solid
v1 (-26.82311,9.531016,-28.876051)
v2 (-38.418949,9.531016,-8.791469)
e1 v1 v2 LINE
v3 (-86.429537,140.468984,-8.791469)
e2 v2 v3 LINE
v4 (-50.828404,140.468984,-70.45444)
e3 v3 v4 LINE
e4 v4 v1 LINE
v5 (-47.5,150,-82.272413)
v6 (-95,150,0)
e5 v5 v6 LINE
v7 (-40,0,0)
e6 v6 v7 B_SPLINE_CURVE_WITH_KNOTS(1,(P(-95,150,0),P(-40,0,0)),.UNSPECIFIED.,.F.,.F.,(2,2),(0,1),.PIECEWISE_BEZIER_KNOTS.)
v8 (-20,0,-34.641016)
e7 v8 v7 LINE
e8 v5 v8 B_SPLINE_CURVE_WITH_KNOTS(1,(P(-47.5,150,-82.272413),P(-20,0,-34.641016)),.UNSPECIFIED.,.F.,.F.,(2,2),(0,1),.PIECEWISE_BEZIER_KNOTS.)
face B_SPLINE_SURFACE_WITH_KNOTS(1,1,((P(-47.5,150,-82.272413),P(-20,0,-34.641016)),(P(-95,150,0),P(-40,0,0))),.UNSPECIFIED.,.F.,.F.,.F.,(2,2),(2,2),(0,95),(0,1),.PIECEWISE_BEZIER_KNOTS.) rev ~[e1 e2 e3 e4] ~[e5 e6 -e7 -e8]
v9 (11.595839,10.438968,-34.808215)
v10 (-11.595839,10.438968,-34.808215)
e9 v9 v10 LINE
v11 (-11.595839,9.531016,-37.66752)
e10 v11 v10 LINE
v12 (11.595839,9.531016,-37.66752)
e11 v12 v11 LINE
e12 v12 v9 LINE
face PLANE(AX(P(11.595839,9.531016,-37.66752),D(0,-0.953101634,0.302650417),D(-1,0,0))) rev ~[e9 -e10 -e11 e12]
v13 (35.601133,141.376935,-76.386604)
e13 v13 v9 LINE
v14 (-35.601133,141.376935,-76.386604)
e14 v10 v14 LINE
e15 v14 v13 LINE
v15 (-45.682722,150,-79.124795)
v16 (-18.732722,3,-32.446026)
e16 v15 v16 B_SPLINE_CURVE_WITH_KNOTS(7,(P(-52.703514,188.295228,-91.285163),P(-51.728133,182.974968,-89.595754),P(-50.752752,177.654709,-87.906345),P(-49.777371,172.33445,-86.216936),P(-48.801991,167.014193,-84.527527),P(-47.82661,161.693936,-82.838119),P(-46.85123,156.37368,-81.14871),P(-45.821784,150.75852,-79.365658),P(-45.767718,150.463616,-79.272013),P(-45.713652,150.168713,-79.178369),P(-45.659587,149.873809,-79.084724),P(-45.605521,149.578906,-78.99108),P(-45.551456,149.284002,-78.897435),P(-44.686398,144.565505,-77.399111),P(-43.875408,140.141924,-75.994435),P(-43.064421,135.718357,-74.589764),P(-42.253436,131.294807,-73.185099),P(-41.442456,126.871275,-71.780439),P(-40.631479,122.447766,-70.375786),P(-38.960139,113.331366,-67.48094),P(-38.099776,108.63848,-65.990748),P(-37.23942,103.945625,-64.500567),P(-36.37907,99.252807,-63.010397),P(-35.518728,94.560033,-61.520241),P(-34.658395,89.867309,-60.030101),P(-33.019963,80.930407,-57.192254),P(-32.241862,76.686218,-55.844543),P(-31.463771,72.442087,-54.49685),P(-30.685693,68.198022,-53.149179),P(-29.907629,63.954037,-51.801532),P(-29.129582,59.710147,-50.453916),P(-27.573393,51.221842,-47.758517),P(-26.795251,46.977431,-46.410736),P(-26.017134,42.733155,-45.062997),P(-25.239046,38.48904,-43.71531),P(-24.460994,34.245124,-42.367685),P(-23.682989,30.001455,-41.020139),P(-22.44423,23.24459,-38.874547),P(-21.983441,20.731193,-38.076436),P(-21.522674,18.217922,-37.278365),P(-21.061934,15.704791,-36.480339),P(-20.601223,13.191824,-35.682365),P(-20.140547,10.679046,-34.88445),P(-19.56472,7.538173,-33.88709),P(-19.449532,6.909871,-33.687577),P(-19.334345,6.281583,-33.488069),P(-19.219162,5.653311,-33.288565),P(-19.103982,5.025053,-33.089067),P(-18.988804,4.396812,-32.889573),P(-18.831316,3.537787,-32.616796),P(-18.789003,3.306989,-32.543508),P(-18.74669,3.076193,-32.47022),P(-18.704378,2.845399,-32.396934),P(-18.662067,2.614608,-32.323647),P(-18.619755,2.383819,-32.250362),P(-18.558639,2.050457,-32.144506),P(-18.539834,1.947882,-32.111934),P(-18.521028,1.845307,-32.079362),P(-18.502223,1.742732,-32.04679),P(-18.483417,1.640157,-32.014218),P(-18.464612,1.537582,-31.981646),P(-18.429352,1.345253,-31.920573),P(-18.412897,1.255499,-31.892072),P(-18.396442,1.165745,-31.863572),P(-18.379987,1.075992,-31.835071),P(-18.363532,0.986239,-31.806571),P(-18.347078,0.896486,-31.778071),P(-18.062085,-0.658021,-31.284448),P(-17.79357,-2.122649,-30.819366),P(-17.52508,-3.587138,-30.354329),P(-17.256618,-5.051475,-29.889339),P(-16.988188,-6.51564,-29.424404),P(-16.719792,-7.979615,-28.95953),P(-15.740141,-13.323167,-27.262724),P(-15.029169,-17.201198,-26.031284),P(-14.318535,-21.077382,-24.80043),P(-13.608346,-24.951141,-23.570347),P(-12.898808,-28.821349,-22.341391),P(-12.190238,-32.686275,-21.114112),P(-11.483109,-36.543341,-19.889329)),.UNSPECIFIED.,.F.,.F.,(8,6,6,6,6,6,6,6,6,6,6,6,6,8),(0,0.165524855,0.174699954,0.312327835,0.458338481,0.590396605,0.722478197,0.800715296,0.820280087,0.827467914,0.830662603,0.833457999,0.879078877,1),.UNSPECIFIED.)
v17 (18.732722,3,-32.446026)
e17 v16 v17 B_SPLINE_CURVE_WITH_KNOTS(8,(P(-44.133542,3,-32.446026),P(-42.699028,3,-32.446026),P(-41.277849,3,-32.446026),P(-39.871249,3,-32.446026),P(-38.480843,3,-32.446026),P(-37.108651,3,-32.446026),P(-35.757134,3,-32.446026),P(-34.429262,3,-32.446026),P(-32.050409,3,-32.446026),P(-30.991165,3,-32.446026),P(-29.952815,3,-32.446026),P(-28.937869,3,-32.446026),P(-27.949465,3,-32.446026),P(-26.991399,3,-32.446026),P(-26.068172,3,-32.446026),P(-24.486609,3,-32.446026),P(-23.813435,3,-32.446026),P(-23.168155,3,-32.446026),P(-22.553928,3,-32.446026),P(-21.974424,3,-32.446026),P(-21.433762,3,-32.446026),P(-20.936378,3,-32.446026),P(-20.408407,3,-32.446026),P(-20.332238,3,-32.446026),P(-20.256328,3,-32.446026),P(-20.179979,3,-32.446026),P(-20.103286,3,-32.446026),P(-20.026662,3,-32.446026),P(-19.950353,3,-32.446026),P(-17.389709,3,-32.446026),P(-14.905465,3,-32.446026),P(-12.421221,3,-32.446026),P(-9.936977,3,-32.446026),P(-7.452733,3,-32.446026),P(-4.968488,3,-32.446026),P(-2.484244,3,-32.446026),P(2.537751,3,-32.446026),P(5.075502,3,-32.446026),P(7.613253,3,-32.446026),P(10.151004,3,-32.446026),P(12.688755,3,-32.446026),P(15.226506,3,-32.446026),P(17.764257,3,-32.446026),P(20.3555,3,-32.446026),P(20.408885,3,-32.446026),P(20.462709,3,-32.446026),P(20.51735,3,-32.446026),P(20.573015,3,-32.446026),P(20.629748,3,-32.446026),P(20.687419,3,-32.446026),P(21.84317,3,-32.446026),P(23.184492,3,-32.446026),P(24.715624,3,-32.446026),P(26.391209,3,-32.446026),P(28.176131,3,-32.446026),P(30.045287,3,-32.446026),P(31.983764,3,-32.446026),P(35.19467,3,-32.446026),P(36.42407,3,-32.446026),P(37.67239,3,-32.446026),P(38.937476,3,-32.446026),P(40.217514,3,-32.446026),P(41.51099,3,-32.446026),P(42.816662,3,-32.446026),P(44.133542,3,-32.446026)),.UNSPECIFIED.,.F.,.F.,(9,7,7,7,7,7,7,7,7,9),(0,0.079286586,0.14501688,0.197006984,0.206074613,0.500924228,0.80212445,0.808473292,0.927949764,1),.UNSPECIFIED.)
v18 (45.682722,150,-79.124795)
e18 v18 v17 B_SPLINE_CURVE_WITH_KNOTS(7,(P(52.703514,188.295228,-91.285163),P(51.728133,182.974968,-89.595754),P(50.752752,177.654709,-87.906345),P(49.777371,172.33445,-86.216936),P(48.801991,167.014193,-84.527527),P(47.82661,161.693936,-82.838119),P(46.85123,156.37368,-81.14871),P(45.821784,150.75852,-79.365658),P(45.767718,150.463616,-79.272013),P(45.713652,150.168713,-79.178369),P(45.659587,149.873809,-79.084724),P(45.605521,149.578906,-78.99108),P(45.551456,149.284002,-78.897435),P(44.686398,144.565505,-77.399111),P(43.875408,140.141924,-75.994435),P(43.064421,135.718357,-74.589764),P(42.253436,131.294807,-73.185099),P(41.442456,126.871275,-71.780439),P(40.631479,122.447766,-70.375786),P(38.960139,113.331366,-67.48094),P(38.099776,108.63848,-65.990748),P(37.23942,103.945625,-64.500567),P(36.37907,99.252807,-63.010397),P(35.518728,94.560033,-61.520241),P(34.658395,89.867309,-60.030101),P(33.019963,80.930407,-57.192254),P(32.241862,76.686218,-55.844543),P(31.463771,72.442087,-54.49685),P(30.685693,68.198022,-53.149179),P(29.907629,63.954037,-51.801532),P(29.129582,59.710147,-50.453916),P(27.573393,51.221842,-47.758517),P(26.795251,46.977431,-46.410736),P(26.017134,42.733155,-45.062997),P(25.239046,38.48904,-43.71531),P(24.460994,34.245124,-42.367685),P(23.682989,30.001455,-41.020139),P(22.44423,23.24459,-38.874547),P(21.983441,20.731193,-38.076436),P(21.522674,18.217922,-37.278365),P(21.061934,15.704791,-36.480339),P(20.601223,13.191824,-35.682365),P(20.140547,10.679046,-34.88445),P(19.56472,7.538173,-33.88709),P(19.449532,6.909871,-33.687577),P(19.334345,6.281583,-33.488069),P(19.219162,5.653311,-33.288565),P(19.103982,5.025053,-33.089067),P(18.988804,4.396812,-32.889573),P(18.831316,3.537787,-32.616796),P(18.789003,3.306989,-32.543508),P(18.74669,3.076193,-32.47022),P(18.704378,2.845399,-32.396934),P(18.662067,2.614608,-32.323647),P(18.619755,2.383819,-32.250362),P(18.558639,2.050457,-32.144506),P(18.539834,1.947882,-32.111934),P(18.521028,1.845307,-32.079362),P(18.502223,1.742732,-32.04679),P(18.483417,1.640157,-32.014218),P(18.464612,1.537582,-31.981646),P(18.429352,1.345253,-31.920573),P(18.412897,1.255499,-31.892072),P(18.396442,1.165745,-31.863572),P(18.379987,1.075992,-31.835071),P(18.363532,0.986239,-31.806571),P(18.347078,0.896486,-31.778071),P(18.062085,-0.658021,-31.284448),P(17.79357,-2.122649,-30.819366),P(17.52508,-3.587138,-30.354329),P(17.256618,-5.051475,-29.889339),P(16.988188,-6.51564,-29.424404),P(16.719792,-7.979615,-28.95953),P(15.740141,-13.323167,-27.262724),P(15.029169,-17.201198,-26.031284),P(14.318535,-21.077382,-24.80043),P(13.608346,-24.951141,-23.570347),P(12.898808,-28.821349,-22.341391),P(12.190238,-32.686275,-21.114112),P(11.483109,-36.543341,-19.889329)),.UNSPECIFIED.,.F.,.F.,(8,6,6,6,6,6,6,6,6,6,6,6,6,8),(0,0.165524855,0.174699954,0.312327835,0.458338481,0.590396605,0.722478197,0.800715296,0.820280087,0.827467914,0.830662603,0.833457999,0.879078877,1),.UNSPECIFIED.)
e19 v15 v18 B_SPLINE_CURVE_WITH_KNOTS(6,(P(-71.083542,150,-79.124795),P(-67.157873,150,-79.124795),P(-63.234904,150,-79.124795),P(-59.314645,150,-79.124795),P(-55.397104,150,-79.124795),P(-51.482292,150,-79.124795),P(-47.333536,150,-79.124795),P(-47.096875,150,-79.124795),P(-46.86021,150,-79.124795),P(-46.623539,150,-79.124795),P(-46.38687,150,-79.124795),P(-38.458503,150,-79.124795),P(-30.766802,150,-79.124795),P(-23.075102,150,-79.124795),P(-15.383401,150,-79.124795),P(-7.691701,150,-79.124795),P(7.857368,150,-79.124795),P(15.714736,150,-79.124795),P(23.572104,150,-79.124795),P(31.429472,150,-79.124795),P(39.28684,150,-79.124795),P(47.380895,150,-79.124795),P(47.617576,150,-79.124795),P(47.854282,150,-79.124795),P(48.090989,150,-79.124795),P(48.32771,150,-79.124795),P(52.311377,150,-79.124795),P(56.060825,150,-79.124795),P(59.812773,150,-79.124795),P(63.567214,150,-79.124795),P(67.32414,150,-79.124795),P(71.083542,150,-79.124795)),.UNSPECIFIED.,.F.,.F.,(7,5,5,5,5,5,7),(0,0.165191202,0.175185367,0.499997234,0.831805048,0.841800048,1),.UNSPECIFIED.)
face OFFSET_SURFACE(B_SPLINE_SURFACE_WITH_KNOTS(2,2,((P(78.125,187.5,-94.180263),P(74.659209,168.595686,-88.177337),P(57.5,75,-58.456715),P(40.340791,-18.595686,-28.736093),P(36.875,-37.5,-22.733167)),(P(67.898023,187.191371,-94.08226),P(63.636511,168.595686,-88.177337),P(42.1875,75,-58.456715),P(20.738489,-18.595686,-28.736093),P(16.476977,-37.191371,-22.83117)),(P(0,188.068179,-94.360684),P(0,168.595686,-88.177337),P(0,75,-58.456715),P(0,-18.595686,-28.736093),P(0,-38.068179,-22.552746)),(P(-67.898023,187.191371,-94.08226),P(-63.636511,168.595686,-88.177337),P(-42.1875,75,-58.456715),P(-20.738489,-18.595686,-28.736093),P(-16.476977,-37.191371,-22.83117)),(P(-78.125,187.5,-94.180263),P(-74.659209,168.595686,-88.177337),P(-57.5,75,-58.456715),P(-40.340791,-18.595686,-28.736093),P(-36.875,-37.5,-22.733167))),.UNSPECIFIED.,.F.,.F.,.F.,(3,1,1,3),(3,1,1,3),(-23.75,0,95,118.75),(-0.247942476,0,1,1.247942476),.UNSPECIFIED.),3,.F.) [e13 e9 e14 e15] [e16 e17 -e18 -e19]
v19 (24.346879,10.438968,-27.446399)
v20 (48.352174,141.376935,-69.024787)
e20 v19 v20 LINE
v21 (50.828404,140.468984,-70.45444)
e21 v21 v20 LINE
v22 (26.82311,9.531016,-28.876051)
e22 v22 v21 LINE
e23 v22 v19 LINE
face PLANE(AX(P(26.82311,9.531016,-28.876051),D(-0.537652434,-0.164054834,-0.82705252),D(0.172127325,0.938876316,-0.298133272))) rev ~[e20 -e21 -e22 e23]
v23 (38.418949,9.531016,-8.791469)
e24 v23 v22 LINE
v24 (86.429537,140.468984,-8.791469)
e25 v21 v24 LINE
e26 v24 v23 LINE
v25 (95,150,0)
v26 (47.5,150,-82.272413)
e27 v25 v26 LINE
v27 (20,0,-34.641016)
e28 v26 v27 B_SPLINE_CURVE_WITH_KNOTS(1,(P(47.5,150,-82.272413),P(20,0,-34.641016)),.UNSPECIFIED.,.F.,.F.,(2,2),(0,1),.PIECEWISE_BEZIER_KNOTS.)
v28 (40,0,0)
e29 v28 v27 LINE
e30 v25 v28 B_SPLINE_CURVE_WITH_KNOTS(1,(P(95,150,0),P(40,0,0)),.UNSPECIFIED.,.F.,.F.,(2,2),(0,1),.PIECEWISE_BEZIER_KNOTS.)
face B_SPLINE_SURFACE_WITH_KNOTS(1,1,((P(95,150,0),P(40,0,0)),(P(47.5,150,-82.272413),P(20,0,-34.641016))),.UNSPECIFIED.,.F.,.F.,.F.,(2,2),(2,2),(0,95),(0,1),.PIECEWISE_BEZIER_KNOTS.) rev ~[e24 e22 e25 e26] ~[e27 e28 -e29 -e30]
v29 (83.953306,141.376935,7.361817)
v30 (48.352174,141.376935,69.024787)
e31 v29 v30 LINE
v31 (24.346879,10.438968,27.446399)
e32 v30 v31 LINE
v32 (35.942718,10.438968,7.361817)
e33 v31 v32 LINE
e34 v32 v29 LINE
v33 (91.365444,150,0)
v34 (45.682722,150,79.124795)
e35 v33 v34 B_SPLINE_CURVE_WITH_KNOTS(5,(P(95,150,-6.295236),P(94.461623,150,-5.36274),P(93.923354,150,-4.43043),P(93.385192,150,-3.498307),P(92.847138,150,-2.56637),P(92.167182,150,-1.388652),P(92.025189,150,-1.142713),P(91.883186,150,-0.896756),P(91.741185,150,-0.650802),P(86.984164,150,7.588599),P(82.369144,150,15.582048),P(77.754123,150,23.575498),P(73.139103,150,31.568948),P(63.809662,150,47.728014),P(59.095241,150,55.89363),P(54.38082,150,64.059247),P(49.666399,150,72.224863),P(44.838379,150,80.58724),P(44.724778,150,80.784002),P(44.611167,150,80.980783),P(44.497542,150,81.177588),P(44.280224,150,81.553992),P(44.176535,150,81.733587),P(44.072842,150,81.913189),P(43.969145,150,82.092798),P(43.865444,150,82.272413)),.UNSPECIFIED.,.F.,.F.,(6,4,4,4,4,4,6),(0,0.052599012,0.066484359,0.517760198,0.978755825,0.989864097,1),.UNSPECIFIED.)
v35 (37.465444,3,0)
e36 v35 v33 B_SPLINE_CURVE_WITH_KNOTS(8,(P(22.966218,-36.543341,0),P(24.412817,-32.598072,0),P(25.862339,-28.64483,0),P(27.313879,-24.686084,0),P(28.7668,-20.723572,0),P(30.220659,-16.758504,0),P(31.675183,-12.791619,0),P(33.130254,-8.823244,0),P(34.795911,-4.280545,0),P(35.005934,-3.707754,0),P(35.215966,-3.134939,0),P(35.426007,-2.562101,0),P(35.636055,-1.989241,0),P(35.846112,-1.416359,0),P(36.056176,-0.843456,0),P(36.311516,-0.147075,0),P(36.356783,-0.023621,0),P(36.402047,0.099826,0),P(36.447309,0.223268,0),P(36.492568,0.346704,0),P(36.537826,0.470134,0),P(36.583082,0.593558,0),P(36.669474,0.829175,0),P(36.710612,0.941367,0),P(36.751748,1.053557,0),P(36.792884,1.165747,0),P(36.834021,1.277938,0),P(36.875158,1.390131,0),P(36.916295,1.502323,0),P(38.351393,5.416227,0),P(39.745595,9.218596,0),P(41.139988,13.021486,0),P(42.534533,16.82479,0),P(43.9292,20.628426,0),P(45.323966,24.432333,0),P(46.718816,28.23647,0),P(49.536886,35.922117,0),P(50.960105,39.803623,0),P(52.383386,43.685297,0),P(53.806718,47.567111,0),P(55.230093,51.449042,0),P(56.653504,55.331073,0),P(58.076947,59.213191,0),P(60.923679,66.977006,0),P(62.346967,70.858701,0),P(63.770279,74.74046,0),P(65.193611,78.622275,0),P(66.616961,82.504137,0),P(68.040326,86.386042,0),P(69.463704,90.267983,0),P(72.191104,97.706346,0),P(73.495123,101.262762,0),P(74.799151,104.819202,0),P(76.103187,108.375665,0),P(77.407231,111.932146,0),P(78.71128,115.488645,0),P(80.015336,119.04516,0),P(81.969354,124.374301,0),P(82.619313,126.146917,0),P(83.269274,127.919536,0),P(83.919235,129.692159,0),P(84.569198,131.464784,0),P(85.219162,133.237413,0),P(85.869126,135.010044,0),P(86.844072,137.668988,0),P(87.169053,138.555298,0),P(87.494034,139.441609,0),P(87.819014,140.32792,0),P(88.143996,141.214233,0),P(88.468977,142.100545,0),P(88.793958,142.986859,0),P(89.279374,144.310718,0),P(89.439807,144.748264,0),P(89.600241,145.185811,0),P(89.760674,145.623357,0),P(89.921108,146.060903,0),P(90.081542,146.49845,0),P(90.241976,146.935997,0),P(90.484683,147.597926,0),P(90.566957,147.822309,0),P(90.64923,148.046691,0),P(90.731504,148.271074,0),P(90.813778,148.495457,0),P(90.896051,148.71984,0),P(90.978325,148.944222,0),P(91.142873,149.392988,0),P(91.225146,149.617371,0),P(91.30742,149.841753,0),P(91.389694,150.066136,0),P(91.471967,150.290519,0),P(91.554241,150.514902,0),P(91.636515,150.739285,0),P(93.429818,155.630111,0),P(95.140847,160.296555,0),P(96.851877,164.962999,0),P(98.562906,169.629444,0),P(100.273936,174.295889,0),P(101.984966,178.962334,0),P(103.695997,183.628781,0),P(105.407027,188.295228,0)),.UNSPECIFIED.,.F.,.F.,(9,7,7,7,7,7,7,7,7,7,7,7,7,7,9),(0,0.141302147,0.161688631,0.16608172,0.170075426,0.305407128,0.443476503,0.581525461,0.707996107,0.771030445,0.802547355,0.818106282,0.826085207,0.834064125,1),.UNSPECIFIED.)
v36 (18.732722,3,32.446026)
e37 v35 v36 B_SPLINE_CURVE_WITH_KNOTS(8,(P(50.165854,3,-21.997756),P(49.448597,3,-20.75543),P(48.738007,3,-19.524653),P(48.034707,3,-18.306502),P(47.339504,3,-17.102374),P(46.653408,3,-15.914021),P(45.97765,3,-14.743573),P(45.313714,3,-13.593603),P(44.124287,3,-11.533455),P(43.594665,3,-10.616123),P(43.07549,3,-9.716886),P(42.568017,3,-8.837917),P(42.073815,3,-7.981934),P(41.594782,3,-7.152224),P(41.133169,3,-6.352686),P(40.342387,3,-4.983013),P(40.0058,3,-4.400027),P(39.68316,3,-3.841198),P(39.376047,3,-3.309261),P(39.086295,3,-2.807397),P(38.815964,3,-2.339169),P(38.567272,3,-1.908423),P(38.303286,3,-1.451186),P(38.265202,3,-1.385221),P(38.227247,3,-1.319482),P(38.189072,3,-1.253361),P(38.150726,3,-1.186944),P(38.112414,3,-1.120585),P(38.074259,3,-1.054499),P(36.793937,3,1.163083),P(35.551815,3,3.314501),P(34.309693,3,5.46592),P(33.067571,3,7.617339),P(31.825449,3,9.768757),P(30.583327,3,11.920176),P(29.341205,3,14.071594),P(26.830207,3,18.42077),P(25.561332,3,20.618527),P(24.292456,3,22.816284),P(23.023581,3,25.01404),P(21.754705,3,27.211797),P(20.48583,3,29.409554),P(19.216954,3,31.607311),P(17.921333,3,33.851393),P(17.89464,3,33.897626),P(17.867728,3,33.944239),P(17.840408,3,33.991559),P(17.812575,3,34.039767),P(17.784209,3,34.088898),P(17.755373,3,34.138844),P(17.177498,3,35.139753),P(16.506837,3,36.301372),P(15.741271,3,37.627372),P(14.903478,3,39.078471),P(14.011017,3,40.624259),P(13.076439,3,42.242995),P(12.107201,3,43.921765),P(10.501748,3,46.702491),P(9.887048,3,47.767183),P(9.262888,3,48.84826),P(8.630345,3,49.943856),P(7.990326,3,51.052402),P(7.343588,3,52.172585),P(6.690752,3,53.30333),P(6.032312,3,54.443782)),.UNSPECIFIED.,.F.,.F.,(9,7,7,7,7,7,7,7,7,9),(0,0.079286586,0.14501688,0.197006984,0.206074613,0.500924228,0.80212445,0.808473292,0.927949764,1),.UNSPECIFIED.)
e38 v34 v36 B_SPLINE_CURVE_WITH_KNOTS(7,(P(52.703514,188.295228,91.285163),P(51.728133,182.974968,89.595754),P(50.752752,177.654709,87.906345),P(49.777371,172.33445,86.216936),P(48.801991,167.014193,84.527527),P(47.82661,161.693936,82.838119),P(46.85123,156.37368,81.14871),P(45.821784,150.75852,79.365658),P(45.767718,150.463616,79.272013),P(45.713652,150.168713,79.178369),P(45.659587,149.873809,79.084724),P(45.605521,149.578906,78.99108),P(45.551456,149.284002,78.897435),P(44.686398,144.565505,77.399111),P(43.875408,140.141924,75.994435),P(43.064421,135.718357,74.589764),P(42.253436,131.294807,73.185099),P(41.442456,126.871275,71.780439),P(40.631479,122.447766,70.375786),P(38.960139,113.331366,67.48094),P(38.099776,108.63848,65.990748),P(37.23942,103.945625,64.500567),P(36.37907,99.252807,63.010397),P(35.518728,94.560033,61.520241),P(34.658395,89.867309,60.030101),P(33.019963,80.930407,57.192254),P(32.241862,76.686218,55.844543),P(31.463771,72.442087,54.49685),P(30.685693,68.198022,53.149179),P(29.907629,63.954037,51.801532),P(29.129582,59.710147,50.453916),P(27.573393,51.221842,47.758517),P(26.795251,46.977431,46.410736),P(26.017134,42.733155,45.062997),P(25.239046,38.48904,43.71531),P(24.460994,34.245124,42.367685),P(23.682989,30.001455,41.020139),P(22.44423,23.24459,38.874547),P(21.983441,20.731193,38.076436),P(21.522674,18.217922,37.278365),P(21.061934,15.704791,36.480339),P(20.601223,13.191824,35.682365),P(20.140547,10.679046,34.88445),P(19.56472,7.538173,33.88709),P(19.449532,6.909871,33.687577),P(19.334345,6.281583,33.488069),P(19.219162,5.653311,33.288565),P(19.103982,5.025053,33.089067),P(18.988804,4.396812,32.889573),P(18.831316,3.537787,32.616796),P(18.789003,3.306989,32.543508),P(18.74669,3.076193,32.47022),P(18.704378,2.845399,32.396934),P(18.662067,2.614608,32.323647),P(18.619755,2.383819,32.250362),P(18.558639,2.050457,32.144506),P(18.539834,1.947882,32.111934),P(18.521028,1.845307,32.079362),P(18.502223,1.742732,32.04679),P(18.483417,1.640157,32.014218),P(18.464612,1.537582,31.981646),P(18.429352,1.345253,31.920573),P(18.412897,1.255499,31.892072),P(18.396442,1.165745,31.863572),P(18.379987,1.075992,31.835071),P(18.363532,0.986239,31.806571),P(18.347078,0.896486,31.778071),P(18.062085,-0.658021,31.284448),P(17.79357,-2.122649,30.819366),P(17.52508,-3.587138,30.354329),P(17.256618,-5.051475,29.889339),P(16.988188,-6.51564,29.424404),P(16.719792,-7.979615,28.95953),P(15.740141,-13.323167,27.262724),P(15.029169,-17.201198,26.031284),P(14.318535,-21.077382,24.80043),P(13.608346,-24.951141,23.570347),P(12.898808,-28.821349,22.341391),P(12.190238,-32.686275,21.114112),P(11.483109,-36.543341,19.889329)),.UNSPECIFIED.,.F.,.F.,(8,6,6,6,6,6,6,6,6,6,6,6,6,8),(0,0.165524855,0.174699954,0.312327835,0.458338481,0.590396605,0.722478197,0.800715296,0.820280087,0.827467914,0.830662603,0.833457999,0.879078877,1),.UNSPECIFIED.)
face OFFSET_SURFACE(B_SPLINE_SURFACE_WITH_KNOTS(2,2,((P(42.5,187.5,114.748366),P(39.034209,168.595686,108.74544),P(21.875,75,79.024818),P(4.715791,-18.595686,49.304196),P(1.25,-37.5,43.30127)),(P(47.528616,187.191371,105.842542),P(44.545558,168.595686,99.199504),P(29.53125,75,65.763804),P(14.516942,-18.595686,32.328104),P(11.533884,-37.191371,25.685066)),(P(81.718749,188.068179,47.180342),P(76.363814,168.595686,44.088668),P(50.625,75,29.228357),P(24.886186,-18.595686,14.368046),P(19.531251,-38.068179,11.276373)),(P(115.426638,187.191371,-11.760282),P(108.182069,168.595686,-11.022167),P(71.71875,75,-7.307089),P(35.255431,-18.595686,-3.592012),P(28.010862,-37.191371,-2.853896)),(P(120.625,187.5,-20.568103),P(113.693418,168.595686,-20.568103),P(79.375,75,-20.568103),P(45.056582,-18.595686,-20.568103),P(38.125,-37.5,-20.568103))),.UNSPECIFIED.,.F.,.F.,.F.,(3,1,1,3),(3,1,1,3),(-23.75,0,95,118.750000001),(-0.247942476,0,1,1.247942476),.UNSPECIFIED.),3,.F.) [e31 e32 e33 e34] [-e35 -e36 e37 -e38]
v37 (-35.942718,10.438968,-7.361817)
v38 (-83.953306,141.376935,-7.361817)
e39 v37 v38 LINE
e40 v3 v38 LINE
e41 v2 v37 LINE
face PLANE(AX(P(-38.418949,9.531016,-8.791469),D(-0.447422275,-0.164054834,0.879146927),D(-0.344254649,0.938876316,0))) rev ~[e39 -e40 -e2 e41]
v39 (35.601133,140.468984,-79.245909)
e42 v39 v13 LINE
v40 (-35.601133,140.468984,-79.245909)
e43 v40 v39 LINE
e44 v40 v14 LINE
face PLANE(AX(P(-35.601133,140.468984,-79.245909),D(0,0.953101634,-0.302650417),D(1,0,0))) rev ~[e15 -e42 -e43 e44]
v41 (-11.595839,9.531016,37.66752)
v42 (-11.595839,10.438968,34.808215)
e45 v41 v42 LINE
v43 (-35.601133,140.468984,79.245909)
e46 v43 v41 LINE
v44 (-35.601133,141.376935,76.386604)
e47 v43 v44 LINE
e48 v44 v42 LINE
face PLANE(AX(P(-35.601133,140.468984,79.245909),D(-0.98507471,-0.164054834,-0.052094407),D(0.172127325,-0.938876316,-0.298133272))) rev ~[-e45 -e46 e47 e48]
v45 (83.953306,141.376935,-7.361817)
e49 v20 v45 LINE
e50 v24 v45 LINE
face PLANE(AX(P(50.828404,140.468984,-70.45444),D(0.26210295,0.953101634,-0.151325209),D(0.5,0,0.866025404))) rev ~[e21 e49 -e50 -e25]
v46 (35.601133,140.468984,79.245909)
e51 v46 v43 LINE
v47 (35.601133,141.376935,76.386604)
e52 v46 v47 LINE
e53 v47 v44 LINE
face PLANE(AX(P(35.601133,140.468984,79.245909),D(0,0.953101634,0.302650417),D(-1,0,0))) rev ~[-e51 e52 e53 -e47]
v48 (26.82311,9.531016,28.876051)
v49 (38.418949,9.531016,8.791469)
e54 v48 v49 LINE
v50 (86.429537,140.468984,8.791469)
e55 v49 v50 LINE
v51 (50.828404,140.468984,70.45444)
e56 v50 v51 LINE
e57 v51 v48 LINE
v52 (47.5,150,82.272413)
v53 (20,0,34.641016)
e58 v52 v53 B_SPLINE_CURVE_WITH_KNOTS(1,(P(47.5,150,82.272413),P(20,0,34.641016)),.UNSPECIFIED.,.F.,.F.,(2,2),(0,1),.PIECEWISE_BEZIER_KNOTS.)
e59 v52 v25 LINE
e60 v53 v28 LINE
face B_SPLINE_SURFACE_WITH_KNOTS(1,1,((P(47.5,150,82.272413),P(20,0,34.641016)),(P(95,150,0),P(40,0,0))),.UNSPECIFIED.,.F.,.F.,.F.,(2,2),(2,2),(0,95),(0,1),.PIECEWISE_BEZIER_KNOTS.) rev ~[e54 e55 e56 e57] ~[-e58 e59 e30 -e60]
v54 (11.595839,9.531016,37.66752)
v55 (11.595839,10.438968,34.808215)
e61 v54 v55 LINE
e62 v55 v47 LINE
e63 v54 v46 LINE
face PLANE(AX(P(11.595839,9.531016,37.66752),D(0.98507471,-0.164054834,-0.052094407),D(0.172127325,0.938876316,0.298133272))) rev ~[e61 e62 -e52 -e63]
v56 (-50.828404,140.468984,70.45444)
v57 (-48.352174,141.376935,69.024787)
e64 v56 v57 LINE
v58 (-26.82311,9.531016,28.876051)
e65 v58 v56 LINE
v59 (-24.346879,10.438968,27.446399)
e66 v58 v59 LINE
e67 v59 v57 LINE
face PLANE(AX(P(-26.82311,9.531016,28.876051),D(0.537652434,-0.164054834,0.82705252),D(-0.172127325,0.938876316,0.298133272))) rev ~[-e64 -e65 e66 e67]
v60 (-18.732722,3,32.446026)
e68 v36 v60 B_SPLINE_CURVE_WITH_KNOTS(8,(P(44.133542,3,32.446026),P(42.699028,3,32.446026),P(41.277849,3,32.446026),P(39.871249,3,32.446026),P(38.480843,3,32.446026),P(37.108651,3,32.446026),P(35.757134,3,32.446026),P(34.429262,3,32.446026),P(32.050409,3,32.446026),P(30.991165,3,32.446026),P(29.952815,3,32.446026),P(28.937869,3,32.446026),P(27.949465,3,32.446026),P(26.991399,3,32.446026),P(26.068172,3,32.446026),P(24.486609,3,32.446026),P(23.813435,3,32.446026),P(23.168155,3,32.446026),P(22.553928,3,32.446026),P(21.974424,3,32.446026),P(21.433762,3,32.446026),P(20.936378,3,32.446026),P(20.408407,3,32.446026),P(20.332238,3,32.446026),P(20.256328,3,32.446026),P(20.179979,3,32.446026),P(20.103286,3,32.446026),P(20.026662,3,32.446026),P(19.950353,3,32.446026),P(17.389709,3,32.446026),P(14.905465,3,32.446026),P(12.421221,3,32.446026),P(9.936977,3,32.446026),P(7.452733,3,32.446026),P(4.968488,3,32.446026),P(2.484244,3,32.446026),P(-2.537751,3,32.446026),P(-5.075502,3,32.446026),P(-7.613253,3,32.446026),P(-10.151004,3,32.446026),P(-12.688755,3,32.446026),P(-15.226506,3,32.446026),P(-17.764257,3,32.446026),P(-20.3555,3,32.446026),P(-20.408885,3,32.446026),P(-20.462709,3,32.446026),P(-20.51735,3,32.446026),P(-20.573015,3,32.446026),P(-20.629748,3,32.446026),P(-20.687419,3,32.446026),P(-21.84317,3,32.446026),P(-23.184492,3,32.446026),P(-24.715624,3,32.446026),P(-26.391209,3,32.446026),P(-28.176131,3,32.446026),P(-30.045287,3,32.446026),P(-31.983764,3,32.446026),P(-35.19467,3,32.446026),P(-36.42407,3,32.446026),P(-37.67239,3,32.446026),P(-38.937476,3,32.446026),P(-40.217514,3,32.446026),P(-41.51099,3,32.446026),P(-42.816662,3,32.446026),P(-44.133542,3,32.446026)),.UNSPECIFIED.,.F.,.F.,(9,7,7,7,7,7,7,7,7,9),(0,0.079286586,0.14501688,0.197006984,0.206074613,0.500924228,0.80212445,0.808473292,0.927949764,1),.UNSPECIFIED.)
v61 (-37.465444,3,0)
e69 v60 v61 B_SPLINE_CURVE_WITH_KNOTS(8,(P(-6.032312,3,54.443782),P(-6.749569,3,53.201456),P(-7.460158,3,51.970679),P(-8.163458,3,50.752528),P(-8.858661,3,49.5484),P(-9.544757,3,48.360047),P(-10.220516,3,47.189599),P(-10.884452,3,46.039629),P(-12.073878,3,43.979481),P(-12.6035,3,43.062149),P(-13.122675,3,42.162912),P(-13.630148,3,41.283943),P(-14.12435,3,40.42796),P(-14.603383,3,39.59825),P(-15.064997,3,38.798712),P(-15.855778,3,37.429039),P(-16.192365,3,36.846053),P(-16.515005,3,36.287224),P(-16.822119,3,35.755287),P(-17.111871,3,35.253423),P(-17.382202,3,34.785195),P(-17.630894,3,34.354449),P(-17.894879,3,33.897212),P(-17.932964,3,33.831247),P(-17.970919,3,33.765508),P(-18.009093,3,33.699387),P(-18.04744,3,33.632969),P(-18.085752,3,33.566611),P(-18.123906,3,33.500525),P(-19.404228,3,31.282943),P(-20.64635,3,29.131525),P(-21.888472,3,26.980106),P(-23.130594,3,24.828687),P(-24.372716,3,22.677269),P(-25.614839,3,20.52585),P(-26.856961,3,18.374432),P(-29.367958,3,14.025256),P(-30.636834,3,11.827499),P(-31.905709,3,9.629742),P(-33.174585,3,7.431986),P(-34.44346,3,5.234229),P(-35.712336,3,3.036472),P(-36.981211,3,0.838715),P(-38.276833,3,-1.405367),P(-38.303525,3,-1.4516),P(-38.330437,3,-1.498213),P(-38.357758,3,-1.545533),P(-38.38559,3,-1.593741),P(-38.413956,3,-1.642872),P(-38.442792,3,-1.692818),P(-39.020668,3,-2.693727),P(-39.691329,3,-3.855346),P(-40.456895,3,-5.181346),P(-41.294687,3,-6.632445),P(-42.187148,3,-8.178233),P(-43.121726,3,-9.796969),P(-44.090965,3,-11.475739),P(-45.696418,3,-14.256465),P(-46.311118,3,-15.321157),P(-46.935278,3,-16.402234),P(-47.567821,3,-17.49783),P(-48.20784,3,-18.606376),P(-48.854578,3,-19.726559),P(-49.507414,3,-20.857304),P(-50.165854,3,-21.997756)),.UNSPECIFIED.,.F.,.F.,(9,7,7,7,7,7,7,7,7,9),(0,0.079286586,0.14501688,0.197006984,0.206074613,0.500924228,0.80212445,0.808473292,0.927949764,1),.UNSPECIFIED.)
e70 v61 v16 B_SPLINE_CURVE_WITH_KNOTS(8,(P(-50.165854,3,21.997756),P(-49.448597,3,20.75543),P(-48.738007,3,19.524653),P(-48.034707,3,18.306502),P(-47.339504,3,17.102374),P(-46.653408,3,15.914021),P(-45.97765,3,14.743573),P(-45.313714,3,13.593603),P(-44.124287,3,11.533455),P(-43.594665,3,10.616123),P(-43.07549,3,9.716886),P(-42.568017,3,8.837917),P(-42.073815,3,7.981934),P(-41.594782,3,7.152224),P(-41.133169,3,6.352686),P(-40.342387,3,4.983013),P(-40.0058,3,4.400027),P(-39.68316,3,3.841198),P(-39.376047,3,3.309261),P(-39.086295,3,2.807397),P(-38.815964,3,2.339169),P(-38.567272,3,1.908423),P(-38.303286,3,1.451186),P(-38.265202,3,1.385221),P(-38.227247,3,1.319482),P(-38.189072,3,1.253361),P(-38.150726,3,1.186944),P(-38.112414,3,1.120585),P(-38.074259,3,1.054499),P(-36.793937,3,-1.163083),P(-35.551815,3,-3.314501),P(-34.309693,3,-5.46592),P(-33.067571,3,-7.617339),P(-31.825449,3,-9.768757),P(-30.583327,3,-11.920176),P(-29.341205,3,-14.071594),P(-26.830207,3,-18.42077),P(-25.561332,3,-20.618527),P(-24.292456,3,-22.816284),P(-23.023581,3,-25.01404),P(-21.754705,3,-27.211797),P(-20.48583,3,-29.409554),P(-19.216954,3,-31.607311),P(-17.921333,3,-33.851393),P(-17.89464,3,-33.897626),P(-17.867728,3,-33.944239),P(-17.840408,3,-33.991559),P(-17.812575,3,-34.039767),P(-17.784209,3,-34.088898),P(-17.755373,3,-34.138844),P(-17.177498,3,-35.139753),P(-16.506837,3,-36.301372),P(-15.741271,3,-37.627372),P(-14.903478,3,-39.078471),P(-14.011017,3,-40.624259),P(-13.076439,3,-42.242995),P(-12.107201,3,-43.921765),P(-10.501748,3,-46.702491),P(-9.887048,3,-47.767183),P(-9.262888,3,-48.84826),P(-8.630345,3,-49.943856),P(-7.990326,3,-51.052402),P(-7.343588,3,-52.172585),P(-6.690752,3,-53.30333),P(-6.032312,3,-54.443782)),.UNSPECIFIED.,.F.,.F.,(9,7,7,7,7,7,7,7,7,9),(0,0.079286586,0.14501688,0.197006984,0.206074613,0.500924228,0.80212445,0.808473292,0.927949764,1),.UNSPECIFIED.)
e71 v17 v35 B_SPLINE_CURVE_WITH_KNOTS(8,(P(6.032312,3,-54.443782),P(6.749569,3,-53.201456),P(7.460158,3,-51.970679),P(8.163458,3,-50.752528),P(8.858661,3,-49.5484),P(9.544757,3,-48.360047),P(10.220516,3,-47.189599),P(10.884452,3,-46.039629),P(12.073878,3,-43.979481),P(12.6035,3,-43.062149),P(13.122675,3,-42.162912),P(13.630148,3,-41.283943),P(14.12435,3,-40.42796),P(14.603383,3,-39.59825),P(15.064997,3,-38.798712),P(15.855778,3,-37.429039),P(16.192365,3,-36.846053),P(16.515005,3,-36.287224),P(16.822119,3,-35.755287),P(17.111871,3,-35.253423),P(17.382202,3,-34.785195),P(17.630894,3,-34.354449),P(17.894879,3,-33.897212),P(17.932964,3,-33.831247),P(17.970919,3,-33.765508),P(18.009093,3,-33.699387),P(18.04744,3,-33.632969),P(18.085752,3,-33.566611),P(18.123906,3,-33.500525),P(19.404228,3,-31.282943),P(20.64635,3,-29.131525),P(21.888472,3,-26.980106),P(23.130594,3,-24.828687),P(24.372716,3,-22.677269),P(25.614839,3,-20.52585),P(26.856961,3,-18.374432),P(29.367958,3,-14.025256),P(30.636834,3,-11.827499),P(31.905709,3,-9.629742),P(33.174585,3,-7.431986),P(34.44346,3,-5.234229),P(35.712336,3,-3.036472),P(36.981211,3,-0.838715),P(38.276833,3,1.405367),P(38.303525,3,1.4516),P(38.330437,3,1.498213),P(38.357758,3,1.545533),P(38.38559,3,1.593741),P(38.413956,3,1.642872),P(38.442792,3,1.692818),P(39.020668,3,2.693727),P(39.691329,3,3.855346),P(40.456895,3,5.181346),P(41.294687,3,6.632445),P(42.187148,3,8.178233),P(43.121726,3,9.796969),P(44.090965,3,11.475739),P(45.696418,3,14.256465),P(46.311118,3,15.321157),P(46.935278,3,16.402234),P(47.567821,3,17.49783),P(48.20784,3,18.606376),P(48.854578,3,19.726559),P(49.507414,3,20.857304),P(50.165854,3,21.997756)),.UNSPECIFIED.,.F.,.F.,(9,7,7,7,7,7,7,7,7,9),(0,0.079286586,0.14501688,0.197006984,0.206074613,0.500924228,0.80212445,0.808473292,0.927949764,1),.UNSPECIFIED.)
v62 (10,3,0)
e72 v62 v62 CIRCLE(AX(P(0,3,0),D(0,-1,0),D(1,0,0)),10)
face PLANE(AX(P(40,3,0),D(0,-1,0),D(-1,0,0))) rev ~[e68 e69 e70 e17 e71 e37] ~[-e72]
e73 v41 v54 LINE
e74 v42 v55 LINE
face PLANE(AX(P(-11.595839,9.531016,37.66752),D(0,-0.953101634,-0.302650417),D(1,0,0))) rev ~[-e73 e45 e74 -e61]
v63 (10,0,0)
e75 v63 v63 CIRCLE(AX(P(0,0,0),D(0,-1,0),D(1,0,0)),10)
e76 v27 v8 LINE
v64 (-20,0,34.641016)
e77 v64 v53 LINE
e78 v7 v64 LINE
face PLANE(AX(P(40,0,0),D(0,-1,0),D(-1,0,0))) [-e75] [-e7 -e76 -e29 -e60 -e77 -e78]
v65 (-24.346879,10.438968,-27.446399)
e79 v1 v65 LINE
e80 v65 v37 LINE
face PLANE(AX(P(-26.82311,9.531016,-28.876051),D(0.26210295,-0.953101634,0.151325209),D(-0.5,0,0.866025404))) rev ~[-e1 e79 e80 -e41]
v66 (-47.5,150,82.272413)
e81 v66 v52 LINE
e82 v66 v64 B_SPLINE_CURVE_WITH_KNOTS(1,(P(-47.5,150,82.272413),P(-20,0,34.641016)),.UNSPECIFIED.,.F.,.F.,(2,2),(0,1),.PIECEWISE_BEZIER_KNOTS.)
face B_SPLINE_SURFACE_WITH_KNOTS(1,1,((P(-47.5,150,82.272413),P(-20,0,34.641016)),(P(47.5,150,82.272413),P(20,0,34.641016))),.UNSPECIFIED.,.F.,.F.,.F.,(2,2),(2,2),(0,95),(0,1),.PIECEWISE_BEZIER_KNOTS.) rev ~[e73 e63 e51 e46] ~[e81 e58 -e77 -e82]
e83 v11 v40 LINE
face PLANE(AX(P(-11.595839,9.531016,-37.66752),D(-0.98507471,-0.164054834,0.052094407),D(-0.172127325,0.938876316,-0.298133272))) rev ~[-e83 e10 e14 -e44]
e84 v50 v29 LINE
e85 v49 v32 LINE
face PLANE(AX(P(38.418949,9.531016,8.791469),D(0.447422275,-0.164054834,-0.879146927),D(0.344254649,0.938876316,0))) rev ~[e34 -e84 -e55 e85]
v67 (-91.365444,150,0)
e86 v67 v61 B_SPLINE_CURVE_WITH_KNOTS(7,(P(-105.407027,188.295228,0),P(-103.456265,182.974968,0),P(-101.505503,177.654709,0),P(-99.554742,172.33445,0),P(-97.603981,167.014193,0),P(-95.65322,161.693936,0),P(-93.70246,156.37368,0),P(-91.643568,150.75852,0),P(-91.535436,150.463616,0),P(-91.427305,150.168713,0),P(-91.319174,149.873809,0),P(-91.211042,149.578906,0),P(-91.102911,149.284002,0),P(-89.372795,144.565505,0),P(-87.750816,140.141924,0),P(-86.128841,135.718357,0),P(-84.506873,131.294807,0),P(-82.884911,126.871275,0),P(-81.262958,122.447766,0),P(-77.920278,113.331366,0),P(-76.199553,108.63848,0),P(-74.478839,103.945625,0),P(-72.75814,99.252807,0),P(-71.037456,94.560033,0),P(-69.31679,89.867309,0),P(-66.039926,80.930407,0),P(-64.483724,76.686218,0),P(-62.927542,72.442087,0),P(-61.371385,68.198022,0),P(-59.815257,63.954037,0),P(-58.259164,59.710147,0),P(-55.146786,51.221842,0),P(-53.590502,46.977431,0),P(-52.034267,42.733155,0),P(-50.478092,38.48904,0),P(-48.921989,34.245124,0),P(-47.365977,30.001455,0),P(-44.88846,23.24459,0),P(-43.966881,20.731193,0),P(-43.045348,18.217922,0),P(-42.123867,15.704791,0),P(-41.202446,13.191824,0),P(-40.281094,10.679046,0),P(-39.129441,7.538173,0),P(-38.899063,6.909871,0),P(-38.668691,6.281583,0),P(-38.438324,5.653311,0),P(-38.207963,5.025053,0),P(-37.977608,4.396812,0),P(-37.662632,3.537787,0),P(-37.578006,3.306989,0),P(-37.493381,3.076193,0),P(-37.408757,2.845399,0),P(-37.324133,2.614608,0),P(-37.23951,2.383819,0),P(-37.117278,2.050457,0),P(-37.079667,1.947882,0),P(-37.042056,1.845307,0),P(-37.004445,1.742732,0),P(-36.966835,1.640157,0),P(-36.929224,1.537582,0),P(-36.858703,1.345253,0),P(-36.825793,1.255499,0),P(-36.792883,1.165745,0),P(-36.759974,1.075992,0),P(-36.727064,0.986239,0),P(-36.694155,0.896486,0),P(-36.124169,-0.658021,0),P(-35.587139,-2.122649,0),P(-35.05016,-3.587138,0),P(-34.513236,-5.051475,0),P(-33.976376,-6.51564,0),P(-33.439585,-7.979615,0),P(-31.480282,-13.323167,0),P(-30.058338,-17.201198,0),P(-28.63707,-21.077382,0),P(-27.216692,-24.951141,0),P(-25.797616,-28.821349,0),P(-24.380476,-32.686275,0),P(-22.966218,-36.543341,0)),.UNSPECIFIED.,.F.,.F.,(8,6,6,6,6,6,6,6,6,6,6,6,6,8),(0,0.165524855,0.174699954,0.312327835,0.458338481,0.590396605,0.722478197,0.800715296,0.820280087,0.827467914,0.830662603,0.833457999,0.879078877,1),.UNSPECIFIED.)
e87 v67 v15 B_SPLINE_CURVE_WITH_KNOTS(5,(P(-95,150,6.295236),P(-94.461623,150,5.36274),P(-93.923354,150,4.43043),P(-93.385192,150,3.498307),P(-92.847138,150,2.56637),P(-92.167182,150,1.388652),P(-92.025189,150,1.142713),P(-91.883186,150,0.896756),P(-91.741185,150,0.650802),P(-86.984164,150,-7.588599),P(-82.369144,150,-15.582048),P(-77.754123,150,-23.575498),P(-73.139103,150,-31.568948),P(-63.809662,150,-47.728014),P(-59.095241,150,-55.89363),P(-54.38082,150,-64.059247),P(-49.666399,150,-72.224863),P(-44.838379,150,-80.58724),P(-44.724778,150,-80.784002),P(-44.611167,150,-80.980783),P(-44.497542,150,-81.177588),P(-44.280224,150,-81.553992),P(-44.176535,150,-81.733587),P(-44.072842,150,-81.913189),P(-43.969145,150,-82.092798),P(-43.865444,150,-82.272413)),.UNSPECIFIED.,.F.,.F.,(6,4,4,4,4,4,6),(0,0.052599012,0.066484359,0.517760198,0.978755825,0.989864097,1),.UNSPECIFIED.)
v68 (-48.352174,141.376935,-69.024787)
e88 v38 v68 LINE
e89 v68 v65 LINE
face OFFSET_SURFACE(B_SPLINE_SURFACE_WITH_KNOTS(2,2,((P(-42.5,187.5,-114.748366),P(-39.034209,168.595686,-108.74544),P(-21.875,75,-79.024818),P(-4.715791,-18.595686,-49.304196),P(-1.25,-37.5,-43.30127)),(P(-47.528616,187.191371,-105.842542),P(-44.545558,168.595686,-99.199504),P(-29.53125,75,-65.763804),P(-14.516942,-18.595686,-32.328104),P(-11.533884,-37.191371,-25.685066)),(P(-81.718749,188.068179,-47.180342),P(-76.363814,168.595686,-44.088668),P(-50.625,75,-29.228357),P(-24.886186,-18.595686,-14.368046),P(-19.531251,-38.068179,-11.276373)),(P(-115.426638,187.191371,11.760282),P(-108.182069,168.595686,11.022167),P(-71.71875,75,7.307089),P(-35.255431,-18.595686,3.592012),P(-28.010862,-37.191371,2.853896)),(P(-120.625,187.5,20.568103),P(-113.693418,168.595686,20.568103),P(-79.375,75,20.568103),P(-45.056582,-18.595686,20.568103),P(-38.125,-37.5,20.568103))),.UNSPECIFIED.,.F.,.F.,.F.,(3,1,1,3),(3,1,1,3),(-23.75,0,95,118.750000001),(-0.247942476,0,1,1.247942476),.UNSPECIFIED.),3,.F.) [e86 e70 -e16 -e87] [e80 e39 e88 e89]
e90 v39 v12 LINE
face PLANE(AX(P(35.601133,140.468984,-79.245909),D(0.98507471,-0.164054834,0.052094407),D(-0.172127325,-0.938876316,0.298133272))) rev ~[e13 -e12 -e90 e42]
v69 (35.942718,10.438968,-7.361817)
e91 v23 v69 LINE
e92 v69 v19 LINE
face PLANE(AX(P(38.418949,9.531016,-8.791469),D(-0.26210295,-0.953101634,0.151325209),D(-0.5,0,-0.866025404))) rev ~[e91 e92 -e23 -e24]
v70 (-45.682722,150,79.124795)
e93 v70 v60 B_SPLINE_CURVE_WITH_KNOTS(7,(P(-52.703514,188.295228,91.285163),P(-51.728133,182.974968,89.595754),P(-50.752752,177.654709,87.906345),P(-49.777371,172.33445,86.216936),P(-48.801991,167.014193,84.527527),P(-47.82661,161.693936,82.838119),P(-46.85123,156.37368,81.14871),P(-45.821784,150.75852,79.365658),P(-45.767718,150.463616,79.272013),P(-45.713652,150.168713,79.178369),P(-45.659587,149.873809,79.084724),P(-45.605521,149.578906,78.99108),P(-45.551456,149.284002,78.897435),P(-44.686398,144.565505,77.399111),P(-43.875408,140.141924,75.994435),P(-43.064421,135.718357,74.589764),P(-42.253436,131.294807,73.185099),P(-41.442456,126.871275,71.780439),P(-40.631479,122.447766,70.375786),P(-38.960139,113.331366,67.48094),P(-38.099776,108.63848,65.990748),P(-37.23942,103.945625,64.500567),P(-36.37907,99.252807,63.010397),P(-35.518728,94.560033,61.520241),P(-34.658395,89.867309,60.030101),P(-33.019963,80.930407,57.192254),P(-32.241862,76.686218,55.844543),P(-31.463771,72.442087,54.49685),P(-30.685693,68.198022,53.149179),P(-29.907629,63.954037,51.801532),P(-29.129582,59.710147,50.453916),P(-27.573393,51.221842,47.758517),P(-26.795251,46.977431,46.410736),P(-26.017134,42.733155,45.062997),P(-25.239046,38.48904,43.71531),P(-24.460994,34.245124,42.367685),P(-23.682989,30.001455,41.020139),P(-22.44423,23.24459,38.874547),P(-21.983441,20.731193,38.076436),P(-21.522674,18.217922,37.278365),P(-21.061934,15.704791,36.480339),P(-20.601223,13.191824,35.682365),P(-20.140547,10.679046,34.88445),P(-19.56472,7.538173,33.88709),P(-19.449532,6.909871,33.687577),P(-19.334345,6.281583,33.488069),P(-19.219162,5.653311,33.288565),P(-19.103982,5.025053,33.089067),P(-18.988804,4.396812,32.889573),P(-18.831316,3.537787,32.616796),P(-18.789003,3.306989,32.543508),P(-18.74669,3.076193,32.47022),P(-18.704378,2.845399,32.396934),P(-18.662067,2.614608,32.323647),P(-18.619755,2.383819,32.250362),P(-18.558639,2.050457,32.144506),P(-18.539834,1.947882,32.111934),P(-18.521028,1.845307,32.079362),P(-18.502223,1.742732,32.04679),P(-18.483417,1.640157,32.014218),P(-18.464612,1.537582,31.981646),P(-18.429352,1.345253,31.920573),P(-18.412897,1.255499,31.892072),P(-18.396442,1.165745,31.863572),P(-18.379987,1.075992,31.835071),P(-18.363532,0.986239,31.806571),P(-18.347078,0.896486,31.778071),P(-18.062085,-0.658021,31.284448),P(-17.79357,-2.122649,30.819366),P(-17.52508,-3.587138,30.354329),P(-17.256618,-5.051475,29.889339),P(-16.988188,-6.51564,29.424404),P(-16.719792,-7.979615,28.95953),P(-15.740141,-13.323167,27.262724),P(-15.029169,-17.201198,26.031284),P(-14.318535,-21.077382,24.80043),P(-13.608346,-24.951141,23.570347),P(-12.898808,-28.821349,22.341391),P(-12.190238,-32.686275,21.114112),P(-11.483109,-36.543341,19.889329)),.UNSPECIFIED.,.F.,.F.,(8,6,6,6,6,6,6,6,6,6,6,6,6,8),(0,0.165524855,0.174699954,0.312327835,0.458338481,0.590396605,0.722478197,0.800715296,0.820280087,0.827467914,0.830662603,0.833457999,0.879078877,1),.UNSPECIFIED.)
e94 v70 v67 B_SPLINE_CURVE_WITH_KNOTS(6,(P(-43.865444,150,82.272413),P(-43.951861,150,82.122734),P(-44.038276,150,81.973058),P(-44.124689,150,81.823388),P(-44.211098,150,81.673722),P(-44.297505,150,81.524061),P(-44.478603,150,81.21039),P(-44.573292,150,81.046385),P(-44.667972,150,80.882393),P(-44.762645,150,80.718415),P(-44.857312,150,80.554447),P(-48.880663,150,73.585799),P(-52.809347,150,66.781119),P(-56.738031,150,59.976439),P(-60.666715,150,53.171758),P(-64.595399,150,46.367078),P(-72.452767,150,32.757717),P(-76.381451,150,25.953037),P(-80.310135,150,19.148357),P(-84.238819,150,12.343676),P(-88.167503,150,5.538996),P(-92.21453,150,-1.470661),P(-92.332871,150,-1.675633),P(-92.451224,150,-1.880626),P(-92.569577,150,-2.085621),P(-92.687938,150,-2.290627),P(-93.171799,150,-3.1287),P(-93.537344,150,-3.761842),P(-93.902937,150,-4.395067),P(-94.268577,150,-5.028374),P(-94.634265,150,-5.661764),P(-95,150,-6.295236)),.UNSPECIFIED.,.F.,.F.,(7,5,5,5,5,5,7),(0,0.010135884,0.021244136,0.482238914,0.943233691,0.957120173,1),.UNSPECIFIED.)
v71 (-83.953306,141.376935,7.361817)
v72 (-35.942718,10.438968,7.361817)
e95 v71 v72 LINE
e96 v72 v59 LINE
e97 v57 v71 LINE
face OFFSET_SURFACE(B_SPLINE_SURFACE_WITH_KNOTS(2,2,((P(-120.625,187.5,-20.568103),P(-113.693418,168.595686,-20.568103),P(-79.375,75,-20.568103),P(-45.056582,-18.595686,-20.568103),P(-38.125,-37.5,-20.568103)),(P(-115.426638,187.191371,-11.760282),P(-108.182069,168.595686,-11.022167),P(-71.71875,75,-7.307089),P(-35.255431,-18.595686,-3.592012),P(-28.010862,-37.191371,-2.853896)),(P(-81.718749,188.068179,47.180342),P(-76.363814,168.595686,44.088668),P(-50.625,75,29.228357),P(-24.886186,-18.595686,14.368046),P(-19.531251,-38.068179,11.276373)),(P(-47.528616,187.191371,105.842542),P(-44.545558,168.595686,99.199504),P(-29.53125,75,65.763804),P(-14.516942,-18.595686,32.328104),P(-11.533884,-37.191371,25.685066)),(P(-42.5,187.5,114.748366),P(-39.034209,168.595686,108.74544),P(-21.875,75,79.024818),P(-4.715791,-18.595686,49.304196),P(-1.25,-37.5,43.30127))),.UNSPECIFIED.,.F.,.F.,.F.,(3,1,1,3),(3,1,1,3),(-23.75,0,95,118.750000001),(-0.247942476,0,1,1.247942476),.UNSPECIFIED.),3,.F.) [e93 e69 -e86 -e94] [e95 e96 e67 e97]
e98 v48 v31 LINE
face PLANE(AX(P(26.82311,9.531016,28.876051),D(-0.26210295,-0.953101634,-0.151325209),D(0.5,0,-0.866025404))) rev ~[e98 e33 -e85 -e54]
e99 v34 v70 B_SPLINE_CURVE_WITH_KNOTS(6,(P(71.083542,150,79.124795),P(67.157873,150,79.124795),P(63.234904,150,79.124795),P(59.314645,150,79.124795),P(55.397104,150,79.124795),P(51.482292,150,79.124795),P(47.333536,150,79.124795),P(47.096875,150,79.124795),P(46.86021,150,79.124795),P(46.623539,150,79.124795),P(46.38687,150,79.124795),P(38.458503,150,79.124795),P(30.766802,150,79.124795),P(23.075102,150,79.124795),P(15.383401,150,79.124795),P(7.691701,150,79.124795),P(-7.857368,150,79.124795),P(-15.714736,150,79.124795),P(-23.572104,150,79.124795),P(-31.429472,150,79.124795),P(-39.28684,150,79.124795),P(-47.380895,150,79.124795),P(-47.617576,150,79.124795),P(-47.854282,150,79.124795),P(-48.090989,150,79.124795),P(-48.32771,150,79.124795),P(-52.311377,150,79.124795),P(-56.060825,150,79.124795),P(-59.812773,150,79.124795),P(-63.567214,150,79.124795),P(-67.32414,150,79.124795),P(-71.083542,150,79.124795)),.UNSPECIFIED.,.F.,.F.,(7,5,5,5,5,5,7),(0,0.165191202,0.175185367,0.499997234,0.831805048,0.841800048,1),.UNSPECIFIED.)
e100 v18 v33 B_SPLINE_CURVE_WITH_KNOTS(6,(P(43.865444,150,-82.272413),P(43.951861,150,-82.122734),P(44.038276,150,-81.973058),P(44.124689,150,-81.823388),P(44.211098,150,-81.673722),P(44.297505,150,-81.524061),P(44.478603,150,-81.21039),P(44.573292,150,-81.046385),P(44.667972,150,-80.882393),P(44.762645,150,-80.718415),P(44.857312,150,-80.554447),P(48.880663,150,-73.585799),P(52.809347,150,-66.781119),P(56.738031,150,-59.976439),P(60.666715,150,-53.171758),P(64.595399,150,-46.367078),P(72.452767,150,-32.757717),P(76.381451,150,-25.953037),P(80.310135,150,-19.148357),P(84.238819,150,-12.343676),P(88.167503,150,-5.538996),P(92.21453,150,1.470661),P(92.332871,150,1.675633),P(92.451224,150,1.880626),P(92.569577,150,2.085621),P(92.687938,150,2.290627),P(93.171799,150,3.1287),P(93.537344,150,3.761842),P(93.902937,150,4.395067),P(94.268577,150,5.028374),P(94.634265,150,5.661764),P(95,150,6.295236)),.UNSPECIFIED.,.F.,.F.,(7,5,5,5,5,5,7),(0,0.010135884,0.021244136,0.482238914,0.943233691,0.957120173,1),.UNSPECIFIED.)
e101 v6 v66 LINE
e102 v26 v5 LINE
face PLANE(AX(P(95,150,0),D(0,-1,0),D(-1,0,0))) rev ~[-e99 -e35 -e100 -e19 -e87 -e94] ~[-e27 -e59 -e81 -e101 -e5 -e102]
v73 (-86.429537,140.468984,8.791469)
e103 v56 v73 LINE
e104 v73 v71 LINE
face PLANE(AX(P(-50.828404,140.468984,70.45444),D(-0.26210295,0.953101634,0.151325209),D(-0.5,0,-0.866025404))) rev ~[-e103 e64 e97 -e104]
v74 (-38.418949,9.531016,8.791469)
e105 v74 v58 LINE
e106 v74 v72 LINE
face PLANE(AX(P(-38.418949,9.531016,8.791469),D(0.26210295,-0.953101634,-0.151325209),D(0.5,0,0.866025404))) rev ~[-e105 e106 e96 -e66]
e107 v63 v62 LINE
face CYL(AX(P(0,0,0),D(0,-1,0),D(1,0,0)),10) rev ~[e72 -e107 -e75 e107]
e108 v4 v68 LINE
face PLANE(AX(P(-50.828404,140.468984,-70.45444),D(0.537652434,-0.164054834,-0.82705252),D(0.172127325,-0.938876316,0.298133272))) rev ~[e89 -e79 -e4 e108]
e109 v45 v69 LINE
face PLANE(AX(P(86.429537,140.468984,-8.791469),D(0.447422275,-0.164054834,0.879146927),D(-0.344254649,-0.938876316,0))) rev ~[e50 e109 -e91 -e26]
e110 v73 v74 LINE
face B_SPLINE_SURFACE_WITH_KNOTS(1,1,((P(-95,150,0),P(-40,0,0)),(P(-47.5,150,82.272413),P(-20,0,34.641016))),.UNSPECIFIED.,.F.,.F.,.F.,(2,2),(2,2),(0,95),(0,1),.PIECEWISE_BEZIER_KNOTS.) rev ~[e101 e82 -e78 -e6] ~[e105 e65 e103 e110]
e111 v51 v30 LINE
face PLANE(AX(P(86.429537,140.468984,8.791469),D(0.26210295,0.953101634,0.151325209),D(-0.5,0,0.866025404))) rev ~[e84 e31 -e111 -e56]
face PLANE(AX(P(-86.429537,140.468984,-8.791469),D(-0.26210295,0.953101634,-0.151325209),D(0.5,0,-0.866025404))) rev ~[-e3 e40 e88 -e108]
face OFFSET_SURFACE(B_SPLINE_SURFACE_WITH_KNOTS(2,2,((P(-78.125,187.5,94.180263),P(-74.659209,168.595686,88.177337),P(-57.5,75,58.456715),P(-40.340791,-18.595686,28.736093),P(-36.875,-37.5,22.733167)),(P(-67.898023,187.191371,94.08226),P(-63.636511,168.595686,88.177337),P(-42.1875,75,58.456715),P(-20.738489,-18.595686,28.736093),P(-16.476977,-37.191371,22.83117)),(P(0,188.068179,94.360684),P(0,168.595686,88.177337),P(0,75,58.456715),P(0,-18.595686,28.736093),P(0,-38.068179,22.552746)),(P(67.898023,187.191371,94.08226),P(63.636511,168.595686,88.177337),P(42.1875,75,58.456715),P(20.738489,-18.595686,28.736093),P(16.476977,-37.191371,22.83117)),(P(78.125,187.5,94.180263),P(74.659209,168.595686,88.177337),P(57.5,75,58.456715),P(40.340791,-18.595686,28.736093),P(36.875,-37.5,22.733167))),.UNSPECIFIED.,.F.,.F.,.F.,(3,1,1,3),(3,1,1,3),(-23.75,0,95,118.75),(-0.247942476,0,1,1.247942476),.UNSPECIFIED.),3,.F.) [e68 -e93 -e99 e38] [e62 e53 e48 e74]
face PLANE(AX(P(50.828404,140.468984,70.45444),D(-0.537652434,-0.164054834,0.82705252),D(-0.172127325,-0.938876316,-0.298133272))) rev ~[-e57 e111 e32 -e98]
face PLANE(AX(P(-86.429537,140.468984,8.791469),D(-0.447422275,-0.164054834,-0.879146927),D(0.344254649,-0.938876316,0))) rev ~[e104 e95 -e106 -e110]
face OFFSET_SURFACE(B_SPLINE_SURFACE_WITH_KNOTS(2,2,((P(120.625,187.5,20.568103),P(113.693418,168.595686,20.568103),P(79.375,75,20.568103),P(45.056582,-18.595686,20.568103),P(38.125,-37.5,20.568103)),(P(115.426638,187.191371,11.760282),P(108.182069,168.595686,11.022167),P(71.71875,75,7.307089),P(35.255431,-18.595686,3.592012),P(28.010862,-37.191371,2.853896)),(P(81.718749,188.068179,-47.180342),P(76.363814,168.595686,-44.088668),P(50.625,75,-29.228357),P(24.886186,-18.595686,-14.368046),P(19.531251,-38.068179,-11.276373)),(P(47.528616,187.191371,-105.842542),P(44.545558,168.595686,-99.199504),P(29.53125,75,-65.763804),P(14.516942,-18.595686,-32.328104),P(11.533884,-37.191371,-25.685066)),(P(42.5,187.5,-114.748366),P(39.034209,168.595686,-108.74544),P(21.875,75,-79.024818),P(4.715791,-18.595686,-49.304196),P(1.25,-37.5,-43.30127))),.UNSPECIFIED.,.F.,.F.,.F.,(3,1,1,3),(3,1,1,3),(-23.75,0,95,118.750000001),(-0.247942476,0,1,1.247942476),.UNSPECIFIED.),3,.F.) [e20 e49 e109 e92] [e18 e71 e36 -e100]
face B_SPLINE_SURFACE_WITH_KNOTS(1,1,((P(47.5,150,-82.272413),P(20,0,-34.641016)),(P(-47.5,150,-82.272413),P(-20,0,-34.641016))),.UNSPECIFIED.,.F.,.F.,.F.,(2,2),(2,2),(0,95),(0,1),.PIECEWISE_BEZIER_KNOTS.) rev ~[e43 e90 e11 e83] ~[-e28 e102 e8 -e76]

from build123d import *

# Parameters (mm, degrees)
VACIADO1_T            = -3
CORTAR_EXTRUIR1_DEPTH = 3
CORTAR_EXTRUIR2_REACH = 152
CROQUIS4_R            = 10
MATRIZC1_COUNT        = 6


with BuildPart() as part:
    # Croquis2 → Recubrir1 section 0
    with BuildSketch(Plane(origin=(0, 150, 0), x_dir=(-1, 0, 0), z_dir=(0, 1, 0))):
        Polygon((-95, 0), (-47.5, -82.27241336), (47.5, -82.27241336), (95, 0), (47.5, 82.27241336), (-47.5, 82.27241336), align=None)
    # Croquis1 → Recubrir1 section 1
    with BuildSketch(Plane(origin=(0, 0, 0), x_dir=(1, 0, 0), z_dir=(0, 1, 0))):
        Polygon((-40, 0), (-20, -34.641016151), (20, -34.641016151), (40, 0), (20, 34.641016151), (-20, 34.641016151), align=None)
    loft()

    # Vaciado1
    vaciado1_openings = [part.faces().sort_by_distance(p)[0] for p in [
        (0, 150, 0),
    ]]
    offset(amount=VACIADO1_T, openings=vaciado1_openings, kind=Kind.INTERSECTION)

    # Croquis3 → Cortar-Extruir1 (cut)
    with BuildSketch(Plane(origin=(0, -9.992429977, 31.467993476), x_dir=(1, 0, 0), z_dir=(0, -0.302650417, 0.953101634))):
        Polygon((-11.595838701, 20.484117977), (11.595838701, 20.484117977), (35.601132708, 157.865025332), (-35.601132708, 157.865025332), align=None)
    cortar_extruir1 = extrude(amount=-CORTAR_EXTRUIR1_DEPTH, mode=Mode.SUBTRACT)

    # Croquis4 → Cortar-Extruir2 (cut, up to next)
    with BuildSketch(Plane.XZ, mode=Mode.PRIVATE) as cortar_extruir2_sk1:
        Circle(CROQUIS4_R)
    cortar_extruir2_tool1 = extrude(cortar_extruir2_sk1.sketch, amount=-CORTAR_EXTRUIR2_REACH, mode=Mode.PRIVATE) & part.part
    add(cortar_extruir2_tool1.solids().sort_by_distance((0, 0, 0))[0], mode=Mode.SUBTRACT)

    # MatrizC1: Cortar-Extruir1 ×6 about axis
    matrizc1_axis = Axis((0, 0, 0), (0, 1, 0))
    for i in range(1, MATRIZC1_COUNT):
        add(cortar_extruir1.rotate(matrizc1_axis, i * 360 / MATRIZC1_COUNT), mode=Mode.SUBTRACT)


solid = part.part
